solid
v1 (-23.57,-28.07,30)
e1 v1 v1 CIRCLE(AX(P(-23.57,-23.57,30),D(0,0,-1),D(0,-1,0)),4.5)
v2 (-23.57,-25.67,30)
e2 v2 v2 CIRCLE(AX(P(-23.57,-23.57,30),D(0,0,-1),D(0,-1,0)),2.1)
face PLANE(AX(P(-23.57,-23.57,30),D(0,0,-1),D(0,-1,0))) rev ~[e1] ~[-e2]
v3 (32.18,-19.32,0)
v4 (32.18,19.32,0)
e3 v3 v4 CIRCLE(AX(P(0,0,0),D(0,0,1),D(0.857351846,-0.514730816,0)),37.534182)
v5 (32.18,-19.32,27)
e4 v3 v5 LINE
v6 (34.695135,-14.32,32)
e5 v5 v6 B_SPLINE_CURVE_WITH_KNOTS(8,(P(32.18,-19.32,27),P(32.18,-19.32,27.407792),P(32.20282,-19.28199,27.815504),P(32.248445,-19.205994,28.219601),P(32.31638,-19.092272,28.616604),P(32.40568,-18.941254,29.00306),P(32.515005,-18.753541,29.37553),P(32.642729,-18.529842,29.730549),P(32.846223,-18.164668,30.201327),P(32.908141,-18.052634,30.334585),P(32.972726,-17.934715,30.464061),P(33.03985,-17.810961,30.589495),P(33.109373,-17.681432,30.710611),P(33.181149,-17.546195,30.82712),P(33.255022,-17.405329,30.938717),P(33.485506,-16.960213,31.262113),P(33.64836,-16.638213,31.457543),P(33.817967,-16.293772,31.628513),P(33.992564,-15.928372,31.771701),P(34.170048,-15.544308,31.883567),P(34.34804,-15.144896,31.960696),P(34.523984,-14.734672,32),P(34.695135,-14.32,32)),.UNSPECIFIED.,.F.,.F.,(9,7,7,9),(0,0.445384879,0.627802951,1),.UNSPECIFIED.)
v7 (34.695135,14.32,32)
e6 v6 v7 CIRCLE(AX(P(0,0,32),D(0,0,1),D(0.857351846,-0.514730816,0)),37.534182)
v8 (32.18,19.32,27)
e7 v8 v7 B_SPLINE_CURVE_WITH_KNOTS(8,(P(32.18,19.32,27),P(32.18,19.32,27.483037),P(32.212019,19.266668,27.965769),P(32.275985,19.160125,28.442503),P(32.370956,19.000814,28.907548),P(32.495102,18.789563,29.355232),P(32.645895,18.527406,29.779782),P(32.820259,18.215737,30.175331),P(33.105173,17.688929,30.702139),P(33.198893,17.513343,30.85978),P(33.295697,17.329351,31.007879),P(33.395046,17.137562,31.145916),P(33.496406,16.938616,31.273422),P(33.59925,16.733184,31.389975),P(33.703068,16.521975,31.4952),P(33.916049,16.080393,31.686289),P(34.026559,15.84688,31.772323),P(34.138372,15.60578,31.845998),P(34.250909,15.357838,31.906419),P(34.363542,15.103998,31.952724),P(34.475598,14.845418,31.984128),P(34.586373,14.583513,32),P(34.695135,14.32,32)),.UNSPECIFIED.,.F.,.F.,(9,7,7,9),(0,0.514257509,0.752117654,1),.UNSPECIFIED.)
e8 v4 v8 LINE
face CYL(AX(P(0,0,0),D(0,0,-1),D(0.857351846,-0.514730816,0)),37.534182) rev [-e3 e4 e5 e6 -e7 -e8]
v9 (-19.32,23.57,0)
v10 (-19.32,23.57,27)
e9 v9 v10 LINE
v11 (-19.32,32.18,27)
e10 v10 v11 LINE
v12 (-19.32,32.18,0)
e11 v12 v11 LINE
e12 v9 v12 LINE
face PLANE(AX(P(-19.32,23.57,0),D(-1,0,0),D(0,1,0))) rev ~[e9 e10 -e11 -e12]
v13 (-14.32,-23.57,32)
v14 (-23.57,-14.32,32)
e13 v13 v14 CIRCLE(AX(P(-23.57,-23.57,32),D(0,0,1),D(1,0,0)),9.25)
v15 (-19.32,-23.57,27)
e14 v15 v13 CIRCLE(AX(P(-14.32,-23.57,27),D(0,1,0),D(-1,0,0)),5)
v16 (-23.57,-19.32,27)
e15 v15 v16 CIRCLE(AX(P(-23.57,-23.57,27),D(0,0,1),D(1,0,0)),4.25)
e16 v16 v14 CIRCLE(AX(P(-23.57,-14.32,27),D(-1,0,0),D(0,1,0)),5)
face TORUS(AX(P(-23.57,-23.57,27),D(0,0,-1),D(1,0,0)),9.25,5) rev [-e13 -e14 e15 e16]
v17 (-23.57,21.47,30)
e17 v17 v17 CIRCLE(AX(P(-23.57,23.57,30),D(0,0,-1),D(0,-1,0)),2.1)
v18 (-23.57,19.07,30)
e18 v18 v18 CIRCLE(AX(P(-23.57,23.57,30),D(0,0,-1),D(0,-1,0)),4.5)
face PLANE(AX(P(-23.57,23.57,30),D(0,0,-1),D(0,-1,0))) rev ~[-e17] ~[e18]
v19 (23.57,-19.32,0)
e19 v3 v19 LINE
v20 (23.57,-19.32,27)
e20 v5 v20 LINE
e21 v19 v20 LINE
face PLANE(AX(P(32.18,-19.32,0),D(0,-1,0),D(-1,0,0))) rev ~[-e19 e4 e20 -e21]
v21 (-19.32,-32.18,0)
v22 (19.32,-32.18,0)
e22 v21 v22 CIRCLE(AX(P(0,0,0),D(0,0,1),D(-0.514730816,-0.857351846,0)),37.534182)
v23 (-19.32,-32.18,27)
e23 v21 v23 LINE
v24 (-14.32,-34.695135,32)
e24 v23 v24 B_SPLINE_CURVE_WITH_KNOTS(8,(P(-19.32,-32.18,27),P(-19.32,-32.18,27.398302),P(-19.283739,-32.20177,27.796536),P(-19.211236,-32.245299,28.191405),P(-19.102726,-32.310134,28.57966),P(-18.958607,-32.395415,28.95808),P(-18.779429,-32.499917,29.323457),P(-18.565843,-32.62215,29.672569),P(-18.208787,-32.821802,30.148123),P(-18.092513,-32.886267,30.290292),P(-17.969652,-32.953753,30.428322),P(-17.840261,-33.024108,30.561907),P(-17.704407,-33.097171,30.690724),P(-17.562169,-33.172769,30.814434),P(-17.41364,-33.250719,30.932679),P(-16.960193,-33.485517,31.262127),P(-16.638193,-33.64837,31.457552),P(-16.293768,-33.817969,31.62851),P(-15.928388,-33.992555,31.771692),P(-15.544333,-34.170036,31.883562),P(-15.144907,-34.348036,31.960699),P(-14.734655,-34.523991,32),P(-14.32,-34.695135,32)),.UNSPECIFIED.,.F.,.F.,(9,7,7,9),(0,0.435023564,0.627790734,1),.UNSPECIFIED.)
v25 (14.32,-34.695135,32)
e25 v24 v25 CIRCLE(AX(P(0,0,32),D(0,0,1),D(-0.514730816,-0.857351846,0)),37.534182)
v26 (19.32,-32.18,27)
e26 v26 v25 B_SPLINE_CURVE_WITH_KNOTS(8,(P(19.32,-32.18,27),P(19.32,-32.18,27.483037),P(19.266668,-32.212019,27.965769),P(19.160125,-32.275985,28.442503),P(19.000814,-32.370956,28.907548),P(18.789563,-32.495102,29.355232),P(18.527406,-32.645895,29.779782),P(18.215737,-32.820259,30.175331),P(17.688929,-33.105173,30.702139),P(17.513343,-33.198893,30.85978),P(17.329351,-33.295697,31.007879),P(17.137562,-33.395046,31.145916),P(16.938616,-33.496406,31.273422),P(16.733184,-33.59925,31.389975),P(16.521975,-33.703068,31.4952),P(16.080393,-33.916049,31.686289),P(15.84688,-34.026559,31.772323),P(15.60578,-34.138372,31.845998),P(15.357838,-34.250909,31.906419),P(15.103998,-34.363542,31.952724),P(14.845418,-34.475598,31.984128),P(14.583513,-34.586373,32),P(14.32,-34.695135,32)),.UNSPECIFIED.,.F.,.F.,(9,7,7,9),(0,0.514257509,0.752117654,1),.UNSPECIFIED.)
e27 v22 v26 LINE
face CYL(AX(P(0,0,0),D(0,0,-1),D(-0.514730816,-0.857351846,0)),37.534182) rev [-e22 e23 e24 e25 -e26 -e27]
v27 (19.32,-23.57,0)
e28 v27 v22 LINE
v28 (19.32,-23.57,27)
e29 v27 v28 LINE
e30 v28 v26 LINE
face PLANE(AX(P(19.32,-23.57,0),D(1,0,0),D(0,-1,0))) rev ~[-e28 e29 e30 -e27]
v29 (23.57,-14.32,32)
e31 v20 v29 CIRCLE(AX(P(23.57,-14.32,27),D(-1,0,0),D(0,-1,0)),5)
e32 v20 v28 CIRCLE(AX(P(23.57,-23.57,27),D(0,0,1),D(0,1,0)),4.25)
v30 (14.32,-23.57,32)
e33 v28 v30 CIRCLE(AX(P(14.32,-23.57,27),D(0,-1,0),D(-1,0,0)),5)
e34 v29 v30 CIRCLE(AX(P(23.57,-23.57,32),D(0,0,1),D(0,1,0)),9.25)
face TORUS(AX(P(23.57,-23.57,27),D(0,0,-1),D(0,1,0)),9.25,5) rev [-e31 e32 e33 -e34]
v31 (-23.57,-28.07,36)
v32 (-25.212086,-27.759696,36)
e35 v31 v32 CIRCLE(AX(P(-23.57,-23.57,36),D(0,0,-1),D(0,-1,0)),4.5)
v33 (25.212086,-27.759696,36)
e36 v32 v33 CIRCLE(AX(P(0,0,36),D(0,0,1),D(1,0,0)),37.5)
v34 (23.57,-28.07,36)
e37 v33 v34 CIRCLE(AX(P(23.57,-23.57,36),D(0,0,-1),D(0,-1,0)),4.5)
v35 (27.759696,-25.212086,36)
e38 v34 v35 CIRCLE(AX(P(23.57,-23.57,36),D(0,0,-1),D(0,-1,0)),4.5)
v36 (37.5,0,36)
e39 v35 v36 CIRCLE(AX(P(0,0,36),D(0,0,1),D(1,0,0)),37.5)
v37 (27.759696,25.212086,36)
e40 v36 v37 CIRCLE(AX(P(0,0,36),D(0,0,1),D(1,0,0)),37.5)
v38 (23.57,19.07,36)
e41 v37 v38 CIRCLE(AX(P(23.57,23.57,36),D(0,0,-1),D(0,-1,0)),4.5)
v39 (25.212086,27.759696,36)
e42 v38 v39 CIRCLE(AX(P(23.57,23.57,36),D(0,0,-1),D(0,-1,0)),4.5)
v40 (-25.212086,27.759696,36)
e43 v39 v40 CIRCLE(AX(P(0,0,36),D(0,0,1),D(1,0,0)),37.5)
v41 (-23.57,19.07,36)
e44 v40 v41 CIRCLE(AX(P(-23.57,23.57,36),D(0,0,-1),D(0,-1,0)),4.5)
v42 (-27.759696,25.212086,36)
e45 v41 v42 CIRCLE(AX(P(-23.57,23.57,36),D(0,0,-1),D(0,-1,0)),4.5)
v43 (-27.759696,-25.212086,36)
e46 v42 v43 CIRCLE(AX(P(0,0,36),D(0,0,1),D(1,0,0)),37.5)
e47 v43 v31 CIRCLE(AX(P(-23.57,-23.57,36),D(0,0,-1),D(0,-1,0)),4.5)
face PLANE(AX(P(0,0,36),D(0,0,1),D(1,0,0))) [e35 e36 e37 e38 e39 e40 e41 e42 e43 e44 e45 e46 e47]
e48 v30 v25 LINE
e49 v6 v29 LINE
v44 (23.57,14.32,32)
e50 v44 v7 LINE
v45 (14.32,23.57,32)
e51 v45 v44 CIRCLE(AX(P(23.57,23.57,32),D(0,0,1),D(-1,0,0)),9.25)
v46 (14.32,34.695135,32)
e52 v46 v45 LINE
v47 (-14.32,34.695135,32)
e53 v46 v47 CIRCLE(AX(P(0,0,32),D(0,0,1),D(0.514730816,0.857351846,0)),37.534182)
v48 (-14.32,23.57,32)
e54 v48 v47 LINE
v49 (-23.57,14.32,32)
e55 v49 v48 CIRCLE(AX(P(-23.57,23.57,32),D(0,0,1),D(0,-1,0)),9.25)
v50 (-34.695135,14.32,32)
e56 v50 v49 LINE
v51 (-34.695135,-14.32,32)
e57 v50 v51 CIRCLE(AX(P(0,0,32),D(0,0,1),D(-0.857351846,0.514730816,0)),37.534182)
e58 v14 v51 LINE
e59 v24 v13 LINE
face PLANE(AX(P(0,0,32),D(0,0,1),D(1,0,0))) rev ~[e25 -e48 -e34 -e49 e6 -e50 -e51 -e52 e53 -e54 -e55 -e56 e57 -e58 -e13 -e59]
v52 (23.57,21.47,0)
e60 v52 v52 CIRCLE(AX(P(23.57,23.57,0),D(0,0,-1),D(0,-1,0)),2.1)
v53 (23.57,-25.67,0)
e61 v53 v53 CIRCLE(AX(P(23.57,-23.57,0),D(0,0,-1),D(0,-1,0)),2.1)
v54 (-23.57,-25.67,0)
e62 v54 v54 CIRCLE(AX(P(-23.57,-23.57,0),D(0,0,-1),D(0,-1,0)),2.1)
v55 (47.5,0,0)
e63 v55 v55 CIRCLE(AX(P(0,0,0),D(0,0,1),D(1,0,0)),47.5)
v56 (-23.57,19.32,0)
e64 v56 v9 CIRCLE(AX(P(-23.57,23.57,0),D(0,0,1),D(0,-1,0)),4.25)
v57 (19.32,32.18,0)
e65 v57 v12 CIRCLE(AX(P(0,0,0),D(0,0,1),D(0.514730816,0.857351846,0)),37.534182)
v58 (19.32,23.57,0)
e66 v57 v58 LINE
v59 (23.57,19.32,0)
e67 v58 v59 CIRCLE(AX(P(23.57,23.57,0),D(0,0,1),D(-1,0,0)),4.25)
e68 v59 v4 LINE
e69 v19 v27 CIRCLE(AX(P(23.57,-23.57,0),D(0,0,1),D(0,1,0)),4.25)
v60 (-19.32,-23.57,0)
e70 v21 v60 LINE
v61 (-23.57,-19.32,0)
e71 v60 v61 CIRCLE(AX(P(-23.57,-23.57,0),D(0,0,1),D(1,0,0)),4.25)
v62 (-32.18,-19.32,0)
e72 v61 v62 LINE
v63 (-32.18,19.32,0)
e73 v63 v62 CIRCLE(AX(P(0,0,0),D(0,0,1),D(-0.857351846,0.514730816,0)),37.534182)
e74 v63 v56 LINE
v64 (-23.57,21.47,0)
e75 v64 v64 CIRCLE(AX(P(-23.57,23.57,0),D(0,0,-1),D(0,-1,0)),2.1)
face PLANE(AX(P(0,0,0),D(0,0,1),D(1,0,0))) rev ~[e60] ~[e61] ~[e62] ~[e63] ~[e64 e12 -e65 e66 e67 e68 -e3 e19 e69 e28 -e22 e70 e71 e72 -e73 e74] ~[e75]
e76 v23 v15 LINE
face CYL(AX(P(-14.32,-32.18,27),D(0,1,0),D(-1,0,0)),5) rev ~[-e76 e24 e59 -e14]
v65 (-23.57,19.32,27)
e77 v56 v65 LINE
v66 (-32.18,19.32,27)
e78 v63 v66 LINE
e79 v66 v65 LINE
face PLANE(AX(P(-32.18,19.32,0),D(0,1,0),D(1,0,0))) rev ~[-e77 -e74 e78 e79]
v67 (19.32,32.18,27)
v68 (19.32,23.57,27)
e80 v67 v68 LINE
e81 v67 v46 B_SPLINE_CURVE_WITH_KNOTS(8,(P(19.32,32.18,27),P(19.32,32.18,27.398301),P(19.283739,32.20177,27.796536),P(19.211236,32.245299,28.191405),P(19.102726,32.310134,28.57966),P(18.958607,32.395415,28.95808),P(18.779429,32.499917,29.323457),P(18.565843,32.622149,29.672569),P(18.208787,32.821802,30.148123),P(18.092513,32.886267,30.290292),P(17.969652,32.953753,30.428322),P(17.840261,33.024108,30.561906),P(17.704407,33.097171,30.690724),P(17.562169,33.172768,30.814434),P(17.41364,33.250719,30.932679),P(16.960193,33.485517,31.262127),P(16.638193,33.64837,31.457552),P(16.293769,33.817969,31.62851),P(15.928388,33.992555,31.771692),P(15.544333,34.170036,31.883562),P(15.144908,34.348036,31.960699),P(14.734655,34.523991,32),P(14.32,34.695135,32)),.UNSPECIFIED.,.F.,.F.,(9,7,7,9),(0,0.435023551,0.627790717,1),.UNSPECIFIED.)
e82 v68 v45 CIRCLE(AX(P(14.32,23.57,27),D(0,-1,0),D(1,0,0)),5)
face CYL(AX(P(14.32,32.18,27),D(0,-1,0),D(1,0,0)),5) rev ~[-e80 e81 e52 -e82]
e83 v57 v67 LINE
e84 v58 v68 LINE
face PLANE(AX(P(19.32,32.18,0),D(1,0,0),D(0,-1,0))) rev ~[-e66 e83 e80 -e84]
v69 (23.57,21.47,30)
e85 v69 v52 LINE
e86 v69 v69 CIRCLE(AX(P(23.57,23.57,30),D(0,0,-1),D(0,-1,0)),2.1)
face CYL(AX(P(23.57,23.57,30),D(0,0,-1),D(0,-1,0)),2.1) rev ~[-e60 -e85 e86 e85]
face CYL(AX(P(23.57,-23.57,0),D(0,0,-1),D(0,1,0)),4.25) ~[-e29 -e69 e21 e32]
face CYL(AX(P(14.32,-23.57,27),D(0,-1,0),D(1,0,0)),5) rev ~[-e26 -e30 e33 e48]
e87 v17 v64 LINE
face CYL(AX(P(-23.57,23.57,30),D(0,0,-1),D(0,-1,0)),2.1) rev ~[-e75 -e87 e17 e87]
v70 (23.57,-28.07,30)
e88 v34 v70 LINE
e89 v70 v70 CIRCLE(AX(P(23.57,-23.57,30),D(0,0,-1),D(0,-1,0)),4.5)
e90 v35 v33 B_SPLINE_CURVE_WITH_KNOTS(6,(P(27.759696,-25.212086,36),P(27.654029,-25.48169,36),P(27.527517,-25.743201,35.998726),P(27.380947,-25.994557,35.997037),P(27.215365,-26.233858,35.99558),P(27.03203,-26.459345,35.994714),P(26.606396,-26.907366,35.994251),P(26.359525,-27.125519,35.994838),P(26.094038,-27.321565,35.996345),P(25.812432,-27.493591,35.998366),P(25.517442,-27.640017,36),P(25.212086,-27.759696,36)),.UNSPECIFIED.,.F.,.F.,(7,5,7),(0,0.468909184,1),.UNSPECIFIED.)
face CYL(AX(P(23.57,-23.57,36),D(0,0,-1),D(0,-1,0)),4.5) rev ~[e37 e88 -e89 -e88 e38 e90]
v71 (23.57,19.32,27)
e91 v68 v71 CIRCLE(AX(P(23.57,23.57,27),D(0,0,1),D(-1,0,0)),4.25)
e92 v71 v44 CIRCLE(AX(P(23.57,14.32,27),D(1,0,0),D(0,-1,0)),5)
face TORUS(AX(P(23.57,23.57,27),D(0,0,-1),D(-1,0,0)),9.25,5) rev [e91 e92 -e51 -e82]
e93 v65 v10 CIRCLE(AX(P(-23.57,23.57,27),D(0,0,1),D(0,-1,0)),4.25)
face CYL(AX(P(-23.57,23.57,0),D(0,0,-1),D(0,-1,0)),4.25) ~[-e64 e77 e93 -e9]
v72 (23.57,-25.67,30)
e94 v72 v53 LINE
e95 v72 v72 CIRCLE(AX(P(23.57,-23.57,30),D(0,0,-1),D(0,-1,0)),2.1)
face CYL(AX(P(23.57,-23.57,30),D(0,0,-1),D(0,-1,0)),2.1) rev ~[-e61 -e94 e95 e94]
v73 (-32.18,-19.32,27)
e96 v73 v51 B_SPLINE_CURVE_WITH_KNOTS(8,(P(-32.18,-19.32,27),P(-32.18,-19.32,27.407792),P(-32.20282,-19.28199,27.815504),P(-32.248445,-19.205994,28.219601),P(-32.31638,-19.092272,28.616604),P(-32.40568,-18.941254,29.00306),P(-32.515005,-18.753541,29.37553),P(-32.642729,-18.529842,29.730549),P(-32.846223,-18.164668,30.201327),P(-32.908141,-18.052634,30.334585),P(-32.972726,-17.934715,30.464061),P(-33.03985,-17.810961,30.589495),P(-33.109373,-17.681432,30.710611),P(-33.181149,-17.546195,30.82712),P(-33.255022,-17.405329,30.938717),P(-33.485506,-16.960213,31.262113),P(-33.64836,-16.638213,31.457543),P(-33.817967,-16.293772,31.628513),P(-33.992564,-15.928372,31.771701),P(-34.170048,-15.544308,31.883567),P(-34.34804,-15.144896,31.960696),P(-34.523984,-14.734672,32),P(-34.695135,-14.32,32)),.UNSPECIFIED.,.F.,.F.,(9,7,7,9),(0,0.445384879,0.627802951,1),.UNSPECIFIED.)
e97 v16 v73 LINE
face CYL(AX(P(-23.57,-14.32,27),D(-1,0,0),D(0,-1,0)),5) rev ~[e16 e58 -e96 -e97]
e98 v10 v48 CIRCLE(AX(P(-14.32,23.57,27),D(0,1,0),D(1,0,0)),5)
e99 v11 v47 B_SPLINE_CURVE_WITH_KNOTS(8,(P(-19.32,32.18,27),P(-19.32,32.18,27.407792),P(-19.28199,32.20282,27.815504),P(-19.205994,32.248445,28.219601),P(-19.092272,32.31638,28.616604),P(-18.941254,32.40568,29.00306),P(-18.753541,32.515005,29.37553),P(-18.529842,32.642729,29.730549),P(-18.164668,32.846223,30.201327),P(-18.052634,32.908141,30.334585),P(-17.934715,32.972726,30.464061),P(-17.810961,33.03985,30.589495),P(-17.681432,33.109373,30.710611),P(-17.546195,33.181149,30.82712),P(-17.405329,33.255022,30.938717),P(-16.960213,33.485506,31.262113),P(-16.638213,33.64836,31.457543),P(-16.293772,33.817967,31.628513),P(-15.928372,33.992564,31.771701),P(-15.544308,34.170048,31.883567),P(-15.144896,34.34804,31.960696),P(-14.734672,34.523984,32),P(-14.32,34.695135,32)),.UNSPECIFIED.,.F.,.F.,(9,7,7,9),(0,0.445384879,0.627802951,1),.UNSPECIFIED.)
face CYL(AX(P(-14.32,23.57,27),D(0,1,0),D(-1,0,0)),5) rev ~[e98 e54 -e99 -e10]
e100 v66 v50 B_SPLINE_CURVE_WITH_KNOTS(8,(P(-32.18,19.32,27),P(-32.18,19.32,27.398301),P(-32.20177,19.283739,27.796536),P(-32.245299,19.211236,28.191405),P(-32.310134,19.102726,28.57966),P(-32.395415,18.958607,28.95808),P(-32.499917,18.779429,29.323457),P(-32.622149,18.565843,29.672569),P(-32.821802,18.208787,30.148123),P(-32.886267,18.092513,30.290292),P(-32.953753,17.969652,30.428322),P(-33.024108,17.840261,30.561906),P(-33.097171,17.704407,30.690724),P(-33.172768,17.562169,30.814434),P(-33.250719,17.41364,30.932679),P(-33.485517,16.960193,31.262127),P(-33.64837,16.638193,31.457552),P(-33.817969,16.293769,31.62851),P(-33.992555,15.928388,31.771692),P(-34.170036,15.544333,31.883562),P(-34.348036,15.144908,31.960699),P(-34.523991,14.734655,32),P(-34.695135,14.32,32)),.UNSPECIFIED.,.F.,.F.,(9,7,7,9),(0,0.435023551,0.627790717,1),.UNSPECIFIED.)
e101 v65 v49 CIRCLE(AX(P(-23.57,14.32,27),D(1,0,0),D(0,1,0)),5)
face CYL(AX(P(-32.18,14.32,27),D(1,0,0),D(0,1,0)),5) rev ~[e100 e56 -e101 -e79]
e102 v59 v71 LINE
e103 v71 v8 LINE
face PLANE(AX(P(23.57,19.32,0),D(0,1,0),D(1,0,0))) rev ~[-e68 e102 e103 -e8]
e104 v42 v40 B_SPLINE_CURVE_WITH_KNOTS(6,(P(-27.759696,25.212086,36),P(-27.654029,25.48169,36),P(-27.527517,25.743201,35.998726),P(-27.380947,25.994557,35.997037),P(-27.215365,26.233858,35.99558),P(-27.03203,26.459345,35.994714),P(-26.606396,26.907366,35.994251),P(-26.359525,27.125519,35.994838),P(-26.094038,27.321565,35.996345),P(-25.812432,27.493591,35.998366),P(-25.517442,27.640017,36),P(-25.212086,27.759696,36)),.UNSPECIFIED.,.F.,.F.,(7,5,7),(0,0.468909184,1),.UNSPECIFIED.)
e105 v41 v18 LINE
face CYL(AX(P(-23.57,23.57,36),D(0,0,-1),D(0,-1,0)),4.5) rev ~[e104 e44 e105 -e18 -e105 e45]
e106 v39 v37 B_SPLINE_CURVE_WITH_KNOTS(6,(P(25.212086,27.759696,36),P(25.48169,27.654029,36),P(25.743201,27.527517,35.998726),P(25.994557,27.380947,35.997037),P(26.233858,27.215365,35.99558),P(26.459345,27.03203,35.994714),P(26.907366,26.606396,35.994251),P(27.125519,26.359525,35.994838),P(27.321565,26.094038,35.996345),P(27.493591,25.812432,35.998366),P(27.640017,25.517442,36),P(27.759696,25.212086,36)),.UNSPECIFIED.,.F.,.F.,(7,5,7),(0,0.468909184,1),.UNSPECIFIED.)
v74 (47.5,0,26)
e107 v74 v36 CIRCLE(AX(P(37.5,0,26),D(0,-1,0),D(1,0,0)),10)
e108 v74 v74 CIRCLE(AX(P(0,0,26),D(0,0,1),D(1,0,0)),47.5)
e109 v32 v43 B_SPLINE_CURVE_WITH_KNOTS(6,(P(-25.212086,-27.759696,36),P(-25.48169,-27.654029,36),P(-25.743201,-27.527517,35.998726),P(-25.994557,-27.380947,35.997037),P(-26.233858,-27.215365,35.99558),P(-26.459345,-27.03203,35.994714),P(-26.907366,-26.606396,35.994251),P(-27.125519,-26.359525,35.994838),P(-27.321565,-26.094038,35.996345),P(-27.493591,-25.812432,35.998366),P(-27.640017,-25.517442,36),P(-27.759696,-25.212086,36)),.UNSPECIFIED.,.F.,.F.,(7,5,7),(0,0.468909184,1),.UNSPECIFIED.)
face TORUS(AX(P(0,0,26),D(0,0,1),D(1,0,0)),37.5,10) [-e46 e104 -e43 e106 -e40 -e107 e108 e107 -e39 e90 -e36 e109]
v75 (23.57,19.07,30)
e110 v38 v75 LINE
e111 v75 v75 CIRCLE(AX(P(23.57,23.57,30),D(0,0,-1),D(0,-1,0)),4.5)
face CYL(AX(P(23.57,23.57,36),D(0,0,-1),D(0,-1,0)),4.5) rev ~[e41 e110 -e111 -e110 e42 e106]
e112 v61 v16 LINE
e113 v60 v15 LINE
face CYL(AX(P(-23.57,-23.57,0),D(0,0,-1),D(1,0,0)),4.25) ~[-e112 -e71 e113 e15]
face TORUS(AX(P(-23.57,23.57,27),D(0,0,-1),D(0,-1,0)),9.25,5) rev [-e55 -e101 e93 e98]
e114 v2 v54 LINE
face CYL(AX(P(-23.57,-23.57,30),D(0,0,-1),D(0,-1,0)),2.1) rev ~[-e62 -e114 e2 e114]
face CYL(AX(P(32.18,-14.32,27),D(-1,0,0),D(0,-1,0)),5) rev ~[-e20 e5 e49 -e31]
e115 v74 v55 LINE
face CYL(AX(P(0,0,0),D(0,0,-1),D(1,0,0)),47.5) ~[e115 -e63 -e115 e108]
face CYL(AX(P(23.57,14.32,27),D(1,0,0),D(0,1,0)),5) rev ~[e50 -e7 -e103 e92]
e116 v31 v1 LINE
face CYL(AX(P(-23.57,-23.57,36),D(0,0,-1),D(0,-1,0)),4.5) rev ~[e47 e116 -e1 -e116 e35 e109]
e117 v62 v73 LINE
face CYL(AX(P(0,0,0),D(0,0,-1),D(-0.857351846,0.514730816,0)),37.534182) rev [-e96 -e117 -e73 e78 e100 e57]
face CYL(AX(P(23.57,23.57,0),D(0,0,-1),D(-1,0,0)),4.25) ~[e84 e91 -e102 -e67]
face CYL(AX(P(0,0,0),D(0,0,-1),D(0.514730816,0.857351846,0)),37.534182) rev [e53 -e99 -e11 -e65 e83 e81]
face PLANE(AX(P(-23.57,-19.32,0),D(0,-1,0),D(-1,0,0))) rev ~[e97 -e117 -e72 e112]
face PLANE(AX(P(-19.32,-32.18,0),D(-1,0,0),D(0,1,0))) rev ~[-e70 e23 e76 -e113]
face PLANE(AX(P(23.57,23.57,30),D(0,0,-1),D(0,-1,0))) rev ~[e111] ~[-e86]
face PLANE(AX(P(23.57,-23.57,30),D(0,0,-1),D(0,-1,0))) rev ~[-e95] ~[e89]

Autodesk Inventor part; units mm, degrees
ref_plane "YZ Plane" through (0, 0, 0) normal (1, 0, 0) x (0, 1, 0)
ref_plane "XZ Plane" through (0, 0, 0) normal (0, 1, 0) x (-1, 0, 0)
sketch "Skizze1" plane through (0, 0, 0) normal (0, 0, 1) x (1, 0, 0)
  line L0 (24.616, 19.6663) -> (20.7123, 20.7123) projected
  line L1 (20.7123, 20.7123) -> (19.6663, 24.616) projected
  line L2 (19.6663, 24.616) -> (22.524, 27.4737) projected
  line L3 (22.524, 27.4737) -> (26.4277, 26.4277) projected
  line L4 (26.4277, 26.4277) -> (27.4737, 22.524) projected
  line L5 (27.4737, 22.524) -> (24.616, 19.6663) projected
  line L6 (-24.616, -19.6663) -> (-20.7123, -20.7123) projected
  line L7 (-20.7123, -20.7123) -> (-19.6663, -24.616) projected
  line L8 (-19.6663, -24.616) -> (-22.524, -27.4737) projected
  line L9 (-22.524, -27.4737) -> (-26.4277, -26.4277) projected
  line L10 (-26.4277, -26.4277) -> (-27.4737, -22.524) projected
  line L11 (-27.4737, -22.524) -> (-24.616, -19.6663) projected
  line L12 (-20.7123, 20.7123) -> (-24.616, 19.6663) projected
  line L13 (-24.616, 19.6663) -> (-27.4737, 22.524) projected
  line L14 (-27.4737, 22.524) -> (-26.4277, 26.4277) projected
  line L15 (-26.4277, 26.4277) -> (-22.524, 27.4737) projected
  line L16 (-22.524, 27.4737) -> (-19.6663, 24.616) projected
  line L17 (-19.6663, 24.616) -> (-20.7123, 20.7123) projected
  line L18 (19.6663, -24.616) -> (20.7123, -20.7123) projected
  line L19 (20.7123, -20.7123) -> (24.616, -19.6663) projected
  line L20 (24.616, -19.6663) -> (27.4737, -22.524) projected
  line L21 (27.4737, -22.524) -> (26.4277, -26.4277) projected
  line L22 (26.4277, -26.4277) -> (22.524, -27.4737) projected
  line L23 (22.524, -27.4737) -> (19.6663, -24.616) projected
  arc A0 (-23.57, 19.32) -> (-19.32, 23.57) centre (-23.57, 23.57) ccw projected
  line L24 (-19.32, 23.57) -> (-19.32, 32.18) projected
  line L25 (-19.32, 32.18) -> (19.32, 32.18) projected
  line L26 (19.32, 32.18) -> (19.32, 23.57) projected
  arc A1 (19.32, 23.57) -> (23.57, 19.32) centre (23.57, 23.57) ccw projected
  line L27 (23.57, 19.32) -> (32.18, 19.32) projected
  line L28 (32.18, 19.32) -> (32.18, -19.32) projected
  line L29 (32.18, -19.32) -> (23.57, -19.32) projected
  arc A2 (23.57, -19.32) -> (19.32, -23.57) centre (23.57, -23.57) ccw projected
  line L30 (19.32, -23.57) -> (19.32, -32.18) projected
  line L31 (19.32, -32.18) -> (-19.32, -32.18) projected
  line L32 (-19.32, -32.18) -> (-19.32, -23.57) projected
  arc A3 (-19.32, -23.57) -> (-23.57, -19.32) centre (-23.57, -23.57) ccw projected
  line L33 (-23.57, -19.32) -> (-32.18, -19.32) projected
  line L34 (-32.18, -19.32) -> (-32.18, 19.32) projected
  line L35 (-32.18, 19.32) -> (-23.57, 19.32) projected
  circle A4 centre (0, 0) radius 47.5
  circle A5 centre (23.57, -23.57) radius 2
  circle A6 centre (23.57, 23.57) radius 2
  circle A7 centre (-23.57, 23.57) radius 2
  circle A8 centre (-23.57, -23.57) radius 2
  arc A9 (32.18, -19.32) -> (32.18, 19.32) centre (0, 0) ccw
  arc A10 (-19.32, -32.18) -> (19.32, -32.18) centre (0, 0) ccw
  arc A11 (-32.18, 19.32) -> (-32.18, -19.32) centre (0, 0) ccw
  arc A12 (19.32, 32.18) -> (-19.32, 32.18) centre (0, 0) ccw
  point P0 (0, 0)
  dimension "d0" = 4
  dimension "d40" = 95
extrude "Extrusion1" add sketch "Skizze1" along normal blind 32 contours L0 L1 L2 L3 L4 L5 | L6 L7 L8 L9 L10 L11 | L12 L13 L14 L15 L16 L17 | L18 L19 L20 L21 L22 L23 | A4
ref_plane "Arbeitsebene1" through (0, 0, 0) normal (1, 0, 0) x (0, 0, 1)
sketch "Skizze9" plane through (0, 0, 32) normal (0, 0, 1) x (1, 0, 0)
  circle A0 centre (23.57, -23.57) radius 2 projected
  circle A1 centre (-23.57, 23.57) radius 2 projected
  circle A2 centre (-23.57, -23.57) radius 2 projected
  circle A3 centre (23.57, 23.57) radius 2 projected
  circle A4 centre (0, 0) radius 47.5 projected
  line L0 (32.18, -19.32) -> (23.57, -19.32) projected
  arc A5 (23.57, -19.32) -> (19.32, -23.57) centre (23.57, -23.57) ccw projected
  line L1 (19.32, -23.57) -> (19.32, -32.18) projected
  arc A6 (-19.32, -32.18) -> (19.32, -32.18) centre (0, 0) ccw projected
  line L2 (-19.32, -32.18) -> (-19.32, -23.57) projected
  arc A7 (-19.32, -23.57) -> (-23.57, -19.32) centre (-23.57, -23.57) ccw projected
  line L3 (-23.57, -19.32) -> (-32.18, -19.32) projected
  arc A8 (-32.18, 19.32) -> (-32.18, -19.32) centre (0, 0) ccw projected
  line L4 (-32.18, 19.32) -> (-23.57, 19.32) projected
  arc A9 (-23.57, 19.32) -> (-19.32, 23.57) centre (-23.57, 23.57) ccw projected
  line L5 (-19.32, 23.57) -> (-19.32, 32.18) projected
  arc A10 (19.32, 32.18) -> (-19.32, 32.18) centre (0, 0) ccw projected
  line L6 (19.32, 32.18) -> (19.32, 23.57) projected
  arc A11 (19.32, 23.57) -> (23.57, 19.32) centre (23.57, 23.57) ccw projected
  line L7 (23.57, 19.32) -> (32.18, 19.32) projected
  arc A12 (32.18, -19.32) -> (32.18, 19.32) centre (0, 0) ccw projected
  point P0 (0, 0)
extrude "Extrusion6" add sketch "Skizze9" along normal blind 4 contours A4 | L0 A5 L1 A6 L2 A7 L3 A8 L4 A9 L5 A10 L6 A11 L7 A12
fillet "Rundung3" radius 10 1 edges at (-47.5, 0, 36)
sketch "Skizze10" plane through (0, 0, 0) normal (0, 0, -1) x (-1, 0, 0)
  circle A0 centre (-23.57, -23.57) radius 2 projected
  circle A1 centre (23.57, 23.57) radius 2 projected
  circle A2 centre (23.57, -23.57) radius 2 projected
  circle A3 centre (-23.57, 23.57) radius 2 projected
  line L0 (-23.57, -19.32) -> (-32.18, -19.32) projected
  arc A4 (-32.18, 19.32) -> (-32.18, -19.32) centre (0, 0) ccw projected
  line L1 (-32.18, 19.32) -> (-23.57, 19.32) projected
  arc A5 (-23.57, 19.32) -> (-19.32, 23.57) centre (-23.57, 23.57) ccw projected
  line L2 (-19.32, 23.57) -> (-19.32, 32.18) projected
  arc A6 (19.32, 32.18) -> (-19.32, 32.18) centre (0, 0) ccw projected
  line L3 (19.32, 32.18) -> (19.32, 23.57) projected
  arc A7 (19.32, 23.57) -> (23.57, 19.32) centre (23.57, 23.57) ccw projected
  line L4 (23.57, 19.32) -> (32.18, 19.32) projected
  arc A8 (32.18, -19.32) -> (32.18, 19.32) centre (0, 0) ccw projected
  line L5 (32.18, -19.32) -> (23.57, -19.32) projected
  arc A9 (23.57, -19.32) -> (19.32, -23.57) centre (23.57, -23.57) ccw projected
  line L6 (19.32, -23.57) -> (19.32, -32.18) projected
  arc A10 (-19.32, -32.18) -> (19.32, -32.18) centre (0, 0) ccw projected
  line L7 (-19.32, -32.18) -> (-19.32, -23.57) projected
  arc A11 (-19.32, -23.57) -> (-23.57, -19.32) centre (-23.57, -23.57) ccw projected
  circle A12 centre (0, 0) radius 47.5 projected
  point P0 (0, 0)
fillet "Rundung4" radius 5 12 edges at (20.5648, 20.5648, 32) (27.875, 19.32, 32) (19.32, 27.875, 32) (19.32, -27.875, 32) (27.875, -19.32, 32) (20.5648, -20.5648, 32) (-27.875, -19.32, 32) (-19.32, -27.875, 32) (-20.5648, -20.5648, 32) (-19.32, 27.875, 32) (-27.875, 19.32, 32) (-20.5648, 20.5648, 32)
sketch "Skizze11" plane through (0, 0, 36) normal (0, 0, 1) x (1, 0, 0)
  circle A0 centre (23.57, -23.57) radius 2 projected
  circle A1 centre (-23.57, 23.57) radius 2 projected
  circle A2 centre (-23.57, -23.57) radius 2 projected
  circle A3 centre (23.57, 23.57) radius 2 projected
  circle A4 centre (0, 0) radius 37.5 projected
  point P0 (0, 0)
hole "Bohrung2" at (-23.57, 23.57, 36) at (23.57, 23.57, 36) at (23.57, -23.57, 36) at (-23.57, -23.57, 36) direction (0, 0, -1) diameter 4.2 end through all counterbore diameter 9 counterbore depth 6
properties part number "MotorCoverN24_3" material "ABS-Kunststoff"
